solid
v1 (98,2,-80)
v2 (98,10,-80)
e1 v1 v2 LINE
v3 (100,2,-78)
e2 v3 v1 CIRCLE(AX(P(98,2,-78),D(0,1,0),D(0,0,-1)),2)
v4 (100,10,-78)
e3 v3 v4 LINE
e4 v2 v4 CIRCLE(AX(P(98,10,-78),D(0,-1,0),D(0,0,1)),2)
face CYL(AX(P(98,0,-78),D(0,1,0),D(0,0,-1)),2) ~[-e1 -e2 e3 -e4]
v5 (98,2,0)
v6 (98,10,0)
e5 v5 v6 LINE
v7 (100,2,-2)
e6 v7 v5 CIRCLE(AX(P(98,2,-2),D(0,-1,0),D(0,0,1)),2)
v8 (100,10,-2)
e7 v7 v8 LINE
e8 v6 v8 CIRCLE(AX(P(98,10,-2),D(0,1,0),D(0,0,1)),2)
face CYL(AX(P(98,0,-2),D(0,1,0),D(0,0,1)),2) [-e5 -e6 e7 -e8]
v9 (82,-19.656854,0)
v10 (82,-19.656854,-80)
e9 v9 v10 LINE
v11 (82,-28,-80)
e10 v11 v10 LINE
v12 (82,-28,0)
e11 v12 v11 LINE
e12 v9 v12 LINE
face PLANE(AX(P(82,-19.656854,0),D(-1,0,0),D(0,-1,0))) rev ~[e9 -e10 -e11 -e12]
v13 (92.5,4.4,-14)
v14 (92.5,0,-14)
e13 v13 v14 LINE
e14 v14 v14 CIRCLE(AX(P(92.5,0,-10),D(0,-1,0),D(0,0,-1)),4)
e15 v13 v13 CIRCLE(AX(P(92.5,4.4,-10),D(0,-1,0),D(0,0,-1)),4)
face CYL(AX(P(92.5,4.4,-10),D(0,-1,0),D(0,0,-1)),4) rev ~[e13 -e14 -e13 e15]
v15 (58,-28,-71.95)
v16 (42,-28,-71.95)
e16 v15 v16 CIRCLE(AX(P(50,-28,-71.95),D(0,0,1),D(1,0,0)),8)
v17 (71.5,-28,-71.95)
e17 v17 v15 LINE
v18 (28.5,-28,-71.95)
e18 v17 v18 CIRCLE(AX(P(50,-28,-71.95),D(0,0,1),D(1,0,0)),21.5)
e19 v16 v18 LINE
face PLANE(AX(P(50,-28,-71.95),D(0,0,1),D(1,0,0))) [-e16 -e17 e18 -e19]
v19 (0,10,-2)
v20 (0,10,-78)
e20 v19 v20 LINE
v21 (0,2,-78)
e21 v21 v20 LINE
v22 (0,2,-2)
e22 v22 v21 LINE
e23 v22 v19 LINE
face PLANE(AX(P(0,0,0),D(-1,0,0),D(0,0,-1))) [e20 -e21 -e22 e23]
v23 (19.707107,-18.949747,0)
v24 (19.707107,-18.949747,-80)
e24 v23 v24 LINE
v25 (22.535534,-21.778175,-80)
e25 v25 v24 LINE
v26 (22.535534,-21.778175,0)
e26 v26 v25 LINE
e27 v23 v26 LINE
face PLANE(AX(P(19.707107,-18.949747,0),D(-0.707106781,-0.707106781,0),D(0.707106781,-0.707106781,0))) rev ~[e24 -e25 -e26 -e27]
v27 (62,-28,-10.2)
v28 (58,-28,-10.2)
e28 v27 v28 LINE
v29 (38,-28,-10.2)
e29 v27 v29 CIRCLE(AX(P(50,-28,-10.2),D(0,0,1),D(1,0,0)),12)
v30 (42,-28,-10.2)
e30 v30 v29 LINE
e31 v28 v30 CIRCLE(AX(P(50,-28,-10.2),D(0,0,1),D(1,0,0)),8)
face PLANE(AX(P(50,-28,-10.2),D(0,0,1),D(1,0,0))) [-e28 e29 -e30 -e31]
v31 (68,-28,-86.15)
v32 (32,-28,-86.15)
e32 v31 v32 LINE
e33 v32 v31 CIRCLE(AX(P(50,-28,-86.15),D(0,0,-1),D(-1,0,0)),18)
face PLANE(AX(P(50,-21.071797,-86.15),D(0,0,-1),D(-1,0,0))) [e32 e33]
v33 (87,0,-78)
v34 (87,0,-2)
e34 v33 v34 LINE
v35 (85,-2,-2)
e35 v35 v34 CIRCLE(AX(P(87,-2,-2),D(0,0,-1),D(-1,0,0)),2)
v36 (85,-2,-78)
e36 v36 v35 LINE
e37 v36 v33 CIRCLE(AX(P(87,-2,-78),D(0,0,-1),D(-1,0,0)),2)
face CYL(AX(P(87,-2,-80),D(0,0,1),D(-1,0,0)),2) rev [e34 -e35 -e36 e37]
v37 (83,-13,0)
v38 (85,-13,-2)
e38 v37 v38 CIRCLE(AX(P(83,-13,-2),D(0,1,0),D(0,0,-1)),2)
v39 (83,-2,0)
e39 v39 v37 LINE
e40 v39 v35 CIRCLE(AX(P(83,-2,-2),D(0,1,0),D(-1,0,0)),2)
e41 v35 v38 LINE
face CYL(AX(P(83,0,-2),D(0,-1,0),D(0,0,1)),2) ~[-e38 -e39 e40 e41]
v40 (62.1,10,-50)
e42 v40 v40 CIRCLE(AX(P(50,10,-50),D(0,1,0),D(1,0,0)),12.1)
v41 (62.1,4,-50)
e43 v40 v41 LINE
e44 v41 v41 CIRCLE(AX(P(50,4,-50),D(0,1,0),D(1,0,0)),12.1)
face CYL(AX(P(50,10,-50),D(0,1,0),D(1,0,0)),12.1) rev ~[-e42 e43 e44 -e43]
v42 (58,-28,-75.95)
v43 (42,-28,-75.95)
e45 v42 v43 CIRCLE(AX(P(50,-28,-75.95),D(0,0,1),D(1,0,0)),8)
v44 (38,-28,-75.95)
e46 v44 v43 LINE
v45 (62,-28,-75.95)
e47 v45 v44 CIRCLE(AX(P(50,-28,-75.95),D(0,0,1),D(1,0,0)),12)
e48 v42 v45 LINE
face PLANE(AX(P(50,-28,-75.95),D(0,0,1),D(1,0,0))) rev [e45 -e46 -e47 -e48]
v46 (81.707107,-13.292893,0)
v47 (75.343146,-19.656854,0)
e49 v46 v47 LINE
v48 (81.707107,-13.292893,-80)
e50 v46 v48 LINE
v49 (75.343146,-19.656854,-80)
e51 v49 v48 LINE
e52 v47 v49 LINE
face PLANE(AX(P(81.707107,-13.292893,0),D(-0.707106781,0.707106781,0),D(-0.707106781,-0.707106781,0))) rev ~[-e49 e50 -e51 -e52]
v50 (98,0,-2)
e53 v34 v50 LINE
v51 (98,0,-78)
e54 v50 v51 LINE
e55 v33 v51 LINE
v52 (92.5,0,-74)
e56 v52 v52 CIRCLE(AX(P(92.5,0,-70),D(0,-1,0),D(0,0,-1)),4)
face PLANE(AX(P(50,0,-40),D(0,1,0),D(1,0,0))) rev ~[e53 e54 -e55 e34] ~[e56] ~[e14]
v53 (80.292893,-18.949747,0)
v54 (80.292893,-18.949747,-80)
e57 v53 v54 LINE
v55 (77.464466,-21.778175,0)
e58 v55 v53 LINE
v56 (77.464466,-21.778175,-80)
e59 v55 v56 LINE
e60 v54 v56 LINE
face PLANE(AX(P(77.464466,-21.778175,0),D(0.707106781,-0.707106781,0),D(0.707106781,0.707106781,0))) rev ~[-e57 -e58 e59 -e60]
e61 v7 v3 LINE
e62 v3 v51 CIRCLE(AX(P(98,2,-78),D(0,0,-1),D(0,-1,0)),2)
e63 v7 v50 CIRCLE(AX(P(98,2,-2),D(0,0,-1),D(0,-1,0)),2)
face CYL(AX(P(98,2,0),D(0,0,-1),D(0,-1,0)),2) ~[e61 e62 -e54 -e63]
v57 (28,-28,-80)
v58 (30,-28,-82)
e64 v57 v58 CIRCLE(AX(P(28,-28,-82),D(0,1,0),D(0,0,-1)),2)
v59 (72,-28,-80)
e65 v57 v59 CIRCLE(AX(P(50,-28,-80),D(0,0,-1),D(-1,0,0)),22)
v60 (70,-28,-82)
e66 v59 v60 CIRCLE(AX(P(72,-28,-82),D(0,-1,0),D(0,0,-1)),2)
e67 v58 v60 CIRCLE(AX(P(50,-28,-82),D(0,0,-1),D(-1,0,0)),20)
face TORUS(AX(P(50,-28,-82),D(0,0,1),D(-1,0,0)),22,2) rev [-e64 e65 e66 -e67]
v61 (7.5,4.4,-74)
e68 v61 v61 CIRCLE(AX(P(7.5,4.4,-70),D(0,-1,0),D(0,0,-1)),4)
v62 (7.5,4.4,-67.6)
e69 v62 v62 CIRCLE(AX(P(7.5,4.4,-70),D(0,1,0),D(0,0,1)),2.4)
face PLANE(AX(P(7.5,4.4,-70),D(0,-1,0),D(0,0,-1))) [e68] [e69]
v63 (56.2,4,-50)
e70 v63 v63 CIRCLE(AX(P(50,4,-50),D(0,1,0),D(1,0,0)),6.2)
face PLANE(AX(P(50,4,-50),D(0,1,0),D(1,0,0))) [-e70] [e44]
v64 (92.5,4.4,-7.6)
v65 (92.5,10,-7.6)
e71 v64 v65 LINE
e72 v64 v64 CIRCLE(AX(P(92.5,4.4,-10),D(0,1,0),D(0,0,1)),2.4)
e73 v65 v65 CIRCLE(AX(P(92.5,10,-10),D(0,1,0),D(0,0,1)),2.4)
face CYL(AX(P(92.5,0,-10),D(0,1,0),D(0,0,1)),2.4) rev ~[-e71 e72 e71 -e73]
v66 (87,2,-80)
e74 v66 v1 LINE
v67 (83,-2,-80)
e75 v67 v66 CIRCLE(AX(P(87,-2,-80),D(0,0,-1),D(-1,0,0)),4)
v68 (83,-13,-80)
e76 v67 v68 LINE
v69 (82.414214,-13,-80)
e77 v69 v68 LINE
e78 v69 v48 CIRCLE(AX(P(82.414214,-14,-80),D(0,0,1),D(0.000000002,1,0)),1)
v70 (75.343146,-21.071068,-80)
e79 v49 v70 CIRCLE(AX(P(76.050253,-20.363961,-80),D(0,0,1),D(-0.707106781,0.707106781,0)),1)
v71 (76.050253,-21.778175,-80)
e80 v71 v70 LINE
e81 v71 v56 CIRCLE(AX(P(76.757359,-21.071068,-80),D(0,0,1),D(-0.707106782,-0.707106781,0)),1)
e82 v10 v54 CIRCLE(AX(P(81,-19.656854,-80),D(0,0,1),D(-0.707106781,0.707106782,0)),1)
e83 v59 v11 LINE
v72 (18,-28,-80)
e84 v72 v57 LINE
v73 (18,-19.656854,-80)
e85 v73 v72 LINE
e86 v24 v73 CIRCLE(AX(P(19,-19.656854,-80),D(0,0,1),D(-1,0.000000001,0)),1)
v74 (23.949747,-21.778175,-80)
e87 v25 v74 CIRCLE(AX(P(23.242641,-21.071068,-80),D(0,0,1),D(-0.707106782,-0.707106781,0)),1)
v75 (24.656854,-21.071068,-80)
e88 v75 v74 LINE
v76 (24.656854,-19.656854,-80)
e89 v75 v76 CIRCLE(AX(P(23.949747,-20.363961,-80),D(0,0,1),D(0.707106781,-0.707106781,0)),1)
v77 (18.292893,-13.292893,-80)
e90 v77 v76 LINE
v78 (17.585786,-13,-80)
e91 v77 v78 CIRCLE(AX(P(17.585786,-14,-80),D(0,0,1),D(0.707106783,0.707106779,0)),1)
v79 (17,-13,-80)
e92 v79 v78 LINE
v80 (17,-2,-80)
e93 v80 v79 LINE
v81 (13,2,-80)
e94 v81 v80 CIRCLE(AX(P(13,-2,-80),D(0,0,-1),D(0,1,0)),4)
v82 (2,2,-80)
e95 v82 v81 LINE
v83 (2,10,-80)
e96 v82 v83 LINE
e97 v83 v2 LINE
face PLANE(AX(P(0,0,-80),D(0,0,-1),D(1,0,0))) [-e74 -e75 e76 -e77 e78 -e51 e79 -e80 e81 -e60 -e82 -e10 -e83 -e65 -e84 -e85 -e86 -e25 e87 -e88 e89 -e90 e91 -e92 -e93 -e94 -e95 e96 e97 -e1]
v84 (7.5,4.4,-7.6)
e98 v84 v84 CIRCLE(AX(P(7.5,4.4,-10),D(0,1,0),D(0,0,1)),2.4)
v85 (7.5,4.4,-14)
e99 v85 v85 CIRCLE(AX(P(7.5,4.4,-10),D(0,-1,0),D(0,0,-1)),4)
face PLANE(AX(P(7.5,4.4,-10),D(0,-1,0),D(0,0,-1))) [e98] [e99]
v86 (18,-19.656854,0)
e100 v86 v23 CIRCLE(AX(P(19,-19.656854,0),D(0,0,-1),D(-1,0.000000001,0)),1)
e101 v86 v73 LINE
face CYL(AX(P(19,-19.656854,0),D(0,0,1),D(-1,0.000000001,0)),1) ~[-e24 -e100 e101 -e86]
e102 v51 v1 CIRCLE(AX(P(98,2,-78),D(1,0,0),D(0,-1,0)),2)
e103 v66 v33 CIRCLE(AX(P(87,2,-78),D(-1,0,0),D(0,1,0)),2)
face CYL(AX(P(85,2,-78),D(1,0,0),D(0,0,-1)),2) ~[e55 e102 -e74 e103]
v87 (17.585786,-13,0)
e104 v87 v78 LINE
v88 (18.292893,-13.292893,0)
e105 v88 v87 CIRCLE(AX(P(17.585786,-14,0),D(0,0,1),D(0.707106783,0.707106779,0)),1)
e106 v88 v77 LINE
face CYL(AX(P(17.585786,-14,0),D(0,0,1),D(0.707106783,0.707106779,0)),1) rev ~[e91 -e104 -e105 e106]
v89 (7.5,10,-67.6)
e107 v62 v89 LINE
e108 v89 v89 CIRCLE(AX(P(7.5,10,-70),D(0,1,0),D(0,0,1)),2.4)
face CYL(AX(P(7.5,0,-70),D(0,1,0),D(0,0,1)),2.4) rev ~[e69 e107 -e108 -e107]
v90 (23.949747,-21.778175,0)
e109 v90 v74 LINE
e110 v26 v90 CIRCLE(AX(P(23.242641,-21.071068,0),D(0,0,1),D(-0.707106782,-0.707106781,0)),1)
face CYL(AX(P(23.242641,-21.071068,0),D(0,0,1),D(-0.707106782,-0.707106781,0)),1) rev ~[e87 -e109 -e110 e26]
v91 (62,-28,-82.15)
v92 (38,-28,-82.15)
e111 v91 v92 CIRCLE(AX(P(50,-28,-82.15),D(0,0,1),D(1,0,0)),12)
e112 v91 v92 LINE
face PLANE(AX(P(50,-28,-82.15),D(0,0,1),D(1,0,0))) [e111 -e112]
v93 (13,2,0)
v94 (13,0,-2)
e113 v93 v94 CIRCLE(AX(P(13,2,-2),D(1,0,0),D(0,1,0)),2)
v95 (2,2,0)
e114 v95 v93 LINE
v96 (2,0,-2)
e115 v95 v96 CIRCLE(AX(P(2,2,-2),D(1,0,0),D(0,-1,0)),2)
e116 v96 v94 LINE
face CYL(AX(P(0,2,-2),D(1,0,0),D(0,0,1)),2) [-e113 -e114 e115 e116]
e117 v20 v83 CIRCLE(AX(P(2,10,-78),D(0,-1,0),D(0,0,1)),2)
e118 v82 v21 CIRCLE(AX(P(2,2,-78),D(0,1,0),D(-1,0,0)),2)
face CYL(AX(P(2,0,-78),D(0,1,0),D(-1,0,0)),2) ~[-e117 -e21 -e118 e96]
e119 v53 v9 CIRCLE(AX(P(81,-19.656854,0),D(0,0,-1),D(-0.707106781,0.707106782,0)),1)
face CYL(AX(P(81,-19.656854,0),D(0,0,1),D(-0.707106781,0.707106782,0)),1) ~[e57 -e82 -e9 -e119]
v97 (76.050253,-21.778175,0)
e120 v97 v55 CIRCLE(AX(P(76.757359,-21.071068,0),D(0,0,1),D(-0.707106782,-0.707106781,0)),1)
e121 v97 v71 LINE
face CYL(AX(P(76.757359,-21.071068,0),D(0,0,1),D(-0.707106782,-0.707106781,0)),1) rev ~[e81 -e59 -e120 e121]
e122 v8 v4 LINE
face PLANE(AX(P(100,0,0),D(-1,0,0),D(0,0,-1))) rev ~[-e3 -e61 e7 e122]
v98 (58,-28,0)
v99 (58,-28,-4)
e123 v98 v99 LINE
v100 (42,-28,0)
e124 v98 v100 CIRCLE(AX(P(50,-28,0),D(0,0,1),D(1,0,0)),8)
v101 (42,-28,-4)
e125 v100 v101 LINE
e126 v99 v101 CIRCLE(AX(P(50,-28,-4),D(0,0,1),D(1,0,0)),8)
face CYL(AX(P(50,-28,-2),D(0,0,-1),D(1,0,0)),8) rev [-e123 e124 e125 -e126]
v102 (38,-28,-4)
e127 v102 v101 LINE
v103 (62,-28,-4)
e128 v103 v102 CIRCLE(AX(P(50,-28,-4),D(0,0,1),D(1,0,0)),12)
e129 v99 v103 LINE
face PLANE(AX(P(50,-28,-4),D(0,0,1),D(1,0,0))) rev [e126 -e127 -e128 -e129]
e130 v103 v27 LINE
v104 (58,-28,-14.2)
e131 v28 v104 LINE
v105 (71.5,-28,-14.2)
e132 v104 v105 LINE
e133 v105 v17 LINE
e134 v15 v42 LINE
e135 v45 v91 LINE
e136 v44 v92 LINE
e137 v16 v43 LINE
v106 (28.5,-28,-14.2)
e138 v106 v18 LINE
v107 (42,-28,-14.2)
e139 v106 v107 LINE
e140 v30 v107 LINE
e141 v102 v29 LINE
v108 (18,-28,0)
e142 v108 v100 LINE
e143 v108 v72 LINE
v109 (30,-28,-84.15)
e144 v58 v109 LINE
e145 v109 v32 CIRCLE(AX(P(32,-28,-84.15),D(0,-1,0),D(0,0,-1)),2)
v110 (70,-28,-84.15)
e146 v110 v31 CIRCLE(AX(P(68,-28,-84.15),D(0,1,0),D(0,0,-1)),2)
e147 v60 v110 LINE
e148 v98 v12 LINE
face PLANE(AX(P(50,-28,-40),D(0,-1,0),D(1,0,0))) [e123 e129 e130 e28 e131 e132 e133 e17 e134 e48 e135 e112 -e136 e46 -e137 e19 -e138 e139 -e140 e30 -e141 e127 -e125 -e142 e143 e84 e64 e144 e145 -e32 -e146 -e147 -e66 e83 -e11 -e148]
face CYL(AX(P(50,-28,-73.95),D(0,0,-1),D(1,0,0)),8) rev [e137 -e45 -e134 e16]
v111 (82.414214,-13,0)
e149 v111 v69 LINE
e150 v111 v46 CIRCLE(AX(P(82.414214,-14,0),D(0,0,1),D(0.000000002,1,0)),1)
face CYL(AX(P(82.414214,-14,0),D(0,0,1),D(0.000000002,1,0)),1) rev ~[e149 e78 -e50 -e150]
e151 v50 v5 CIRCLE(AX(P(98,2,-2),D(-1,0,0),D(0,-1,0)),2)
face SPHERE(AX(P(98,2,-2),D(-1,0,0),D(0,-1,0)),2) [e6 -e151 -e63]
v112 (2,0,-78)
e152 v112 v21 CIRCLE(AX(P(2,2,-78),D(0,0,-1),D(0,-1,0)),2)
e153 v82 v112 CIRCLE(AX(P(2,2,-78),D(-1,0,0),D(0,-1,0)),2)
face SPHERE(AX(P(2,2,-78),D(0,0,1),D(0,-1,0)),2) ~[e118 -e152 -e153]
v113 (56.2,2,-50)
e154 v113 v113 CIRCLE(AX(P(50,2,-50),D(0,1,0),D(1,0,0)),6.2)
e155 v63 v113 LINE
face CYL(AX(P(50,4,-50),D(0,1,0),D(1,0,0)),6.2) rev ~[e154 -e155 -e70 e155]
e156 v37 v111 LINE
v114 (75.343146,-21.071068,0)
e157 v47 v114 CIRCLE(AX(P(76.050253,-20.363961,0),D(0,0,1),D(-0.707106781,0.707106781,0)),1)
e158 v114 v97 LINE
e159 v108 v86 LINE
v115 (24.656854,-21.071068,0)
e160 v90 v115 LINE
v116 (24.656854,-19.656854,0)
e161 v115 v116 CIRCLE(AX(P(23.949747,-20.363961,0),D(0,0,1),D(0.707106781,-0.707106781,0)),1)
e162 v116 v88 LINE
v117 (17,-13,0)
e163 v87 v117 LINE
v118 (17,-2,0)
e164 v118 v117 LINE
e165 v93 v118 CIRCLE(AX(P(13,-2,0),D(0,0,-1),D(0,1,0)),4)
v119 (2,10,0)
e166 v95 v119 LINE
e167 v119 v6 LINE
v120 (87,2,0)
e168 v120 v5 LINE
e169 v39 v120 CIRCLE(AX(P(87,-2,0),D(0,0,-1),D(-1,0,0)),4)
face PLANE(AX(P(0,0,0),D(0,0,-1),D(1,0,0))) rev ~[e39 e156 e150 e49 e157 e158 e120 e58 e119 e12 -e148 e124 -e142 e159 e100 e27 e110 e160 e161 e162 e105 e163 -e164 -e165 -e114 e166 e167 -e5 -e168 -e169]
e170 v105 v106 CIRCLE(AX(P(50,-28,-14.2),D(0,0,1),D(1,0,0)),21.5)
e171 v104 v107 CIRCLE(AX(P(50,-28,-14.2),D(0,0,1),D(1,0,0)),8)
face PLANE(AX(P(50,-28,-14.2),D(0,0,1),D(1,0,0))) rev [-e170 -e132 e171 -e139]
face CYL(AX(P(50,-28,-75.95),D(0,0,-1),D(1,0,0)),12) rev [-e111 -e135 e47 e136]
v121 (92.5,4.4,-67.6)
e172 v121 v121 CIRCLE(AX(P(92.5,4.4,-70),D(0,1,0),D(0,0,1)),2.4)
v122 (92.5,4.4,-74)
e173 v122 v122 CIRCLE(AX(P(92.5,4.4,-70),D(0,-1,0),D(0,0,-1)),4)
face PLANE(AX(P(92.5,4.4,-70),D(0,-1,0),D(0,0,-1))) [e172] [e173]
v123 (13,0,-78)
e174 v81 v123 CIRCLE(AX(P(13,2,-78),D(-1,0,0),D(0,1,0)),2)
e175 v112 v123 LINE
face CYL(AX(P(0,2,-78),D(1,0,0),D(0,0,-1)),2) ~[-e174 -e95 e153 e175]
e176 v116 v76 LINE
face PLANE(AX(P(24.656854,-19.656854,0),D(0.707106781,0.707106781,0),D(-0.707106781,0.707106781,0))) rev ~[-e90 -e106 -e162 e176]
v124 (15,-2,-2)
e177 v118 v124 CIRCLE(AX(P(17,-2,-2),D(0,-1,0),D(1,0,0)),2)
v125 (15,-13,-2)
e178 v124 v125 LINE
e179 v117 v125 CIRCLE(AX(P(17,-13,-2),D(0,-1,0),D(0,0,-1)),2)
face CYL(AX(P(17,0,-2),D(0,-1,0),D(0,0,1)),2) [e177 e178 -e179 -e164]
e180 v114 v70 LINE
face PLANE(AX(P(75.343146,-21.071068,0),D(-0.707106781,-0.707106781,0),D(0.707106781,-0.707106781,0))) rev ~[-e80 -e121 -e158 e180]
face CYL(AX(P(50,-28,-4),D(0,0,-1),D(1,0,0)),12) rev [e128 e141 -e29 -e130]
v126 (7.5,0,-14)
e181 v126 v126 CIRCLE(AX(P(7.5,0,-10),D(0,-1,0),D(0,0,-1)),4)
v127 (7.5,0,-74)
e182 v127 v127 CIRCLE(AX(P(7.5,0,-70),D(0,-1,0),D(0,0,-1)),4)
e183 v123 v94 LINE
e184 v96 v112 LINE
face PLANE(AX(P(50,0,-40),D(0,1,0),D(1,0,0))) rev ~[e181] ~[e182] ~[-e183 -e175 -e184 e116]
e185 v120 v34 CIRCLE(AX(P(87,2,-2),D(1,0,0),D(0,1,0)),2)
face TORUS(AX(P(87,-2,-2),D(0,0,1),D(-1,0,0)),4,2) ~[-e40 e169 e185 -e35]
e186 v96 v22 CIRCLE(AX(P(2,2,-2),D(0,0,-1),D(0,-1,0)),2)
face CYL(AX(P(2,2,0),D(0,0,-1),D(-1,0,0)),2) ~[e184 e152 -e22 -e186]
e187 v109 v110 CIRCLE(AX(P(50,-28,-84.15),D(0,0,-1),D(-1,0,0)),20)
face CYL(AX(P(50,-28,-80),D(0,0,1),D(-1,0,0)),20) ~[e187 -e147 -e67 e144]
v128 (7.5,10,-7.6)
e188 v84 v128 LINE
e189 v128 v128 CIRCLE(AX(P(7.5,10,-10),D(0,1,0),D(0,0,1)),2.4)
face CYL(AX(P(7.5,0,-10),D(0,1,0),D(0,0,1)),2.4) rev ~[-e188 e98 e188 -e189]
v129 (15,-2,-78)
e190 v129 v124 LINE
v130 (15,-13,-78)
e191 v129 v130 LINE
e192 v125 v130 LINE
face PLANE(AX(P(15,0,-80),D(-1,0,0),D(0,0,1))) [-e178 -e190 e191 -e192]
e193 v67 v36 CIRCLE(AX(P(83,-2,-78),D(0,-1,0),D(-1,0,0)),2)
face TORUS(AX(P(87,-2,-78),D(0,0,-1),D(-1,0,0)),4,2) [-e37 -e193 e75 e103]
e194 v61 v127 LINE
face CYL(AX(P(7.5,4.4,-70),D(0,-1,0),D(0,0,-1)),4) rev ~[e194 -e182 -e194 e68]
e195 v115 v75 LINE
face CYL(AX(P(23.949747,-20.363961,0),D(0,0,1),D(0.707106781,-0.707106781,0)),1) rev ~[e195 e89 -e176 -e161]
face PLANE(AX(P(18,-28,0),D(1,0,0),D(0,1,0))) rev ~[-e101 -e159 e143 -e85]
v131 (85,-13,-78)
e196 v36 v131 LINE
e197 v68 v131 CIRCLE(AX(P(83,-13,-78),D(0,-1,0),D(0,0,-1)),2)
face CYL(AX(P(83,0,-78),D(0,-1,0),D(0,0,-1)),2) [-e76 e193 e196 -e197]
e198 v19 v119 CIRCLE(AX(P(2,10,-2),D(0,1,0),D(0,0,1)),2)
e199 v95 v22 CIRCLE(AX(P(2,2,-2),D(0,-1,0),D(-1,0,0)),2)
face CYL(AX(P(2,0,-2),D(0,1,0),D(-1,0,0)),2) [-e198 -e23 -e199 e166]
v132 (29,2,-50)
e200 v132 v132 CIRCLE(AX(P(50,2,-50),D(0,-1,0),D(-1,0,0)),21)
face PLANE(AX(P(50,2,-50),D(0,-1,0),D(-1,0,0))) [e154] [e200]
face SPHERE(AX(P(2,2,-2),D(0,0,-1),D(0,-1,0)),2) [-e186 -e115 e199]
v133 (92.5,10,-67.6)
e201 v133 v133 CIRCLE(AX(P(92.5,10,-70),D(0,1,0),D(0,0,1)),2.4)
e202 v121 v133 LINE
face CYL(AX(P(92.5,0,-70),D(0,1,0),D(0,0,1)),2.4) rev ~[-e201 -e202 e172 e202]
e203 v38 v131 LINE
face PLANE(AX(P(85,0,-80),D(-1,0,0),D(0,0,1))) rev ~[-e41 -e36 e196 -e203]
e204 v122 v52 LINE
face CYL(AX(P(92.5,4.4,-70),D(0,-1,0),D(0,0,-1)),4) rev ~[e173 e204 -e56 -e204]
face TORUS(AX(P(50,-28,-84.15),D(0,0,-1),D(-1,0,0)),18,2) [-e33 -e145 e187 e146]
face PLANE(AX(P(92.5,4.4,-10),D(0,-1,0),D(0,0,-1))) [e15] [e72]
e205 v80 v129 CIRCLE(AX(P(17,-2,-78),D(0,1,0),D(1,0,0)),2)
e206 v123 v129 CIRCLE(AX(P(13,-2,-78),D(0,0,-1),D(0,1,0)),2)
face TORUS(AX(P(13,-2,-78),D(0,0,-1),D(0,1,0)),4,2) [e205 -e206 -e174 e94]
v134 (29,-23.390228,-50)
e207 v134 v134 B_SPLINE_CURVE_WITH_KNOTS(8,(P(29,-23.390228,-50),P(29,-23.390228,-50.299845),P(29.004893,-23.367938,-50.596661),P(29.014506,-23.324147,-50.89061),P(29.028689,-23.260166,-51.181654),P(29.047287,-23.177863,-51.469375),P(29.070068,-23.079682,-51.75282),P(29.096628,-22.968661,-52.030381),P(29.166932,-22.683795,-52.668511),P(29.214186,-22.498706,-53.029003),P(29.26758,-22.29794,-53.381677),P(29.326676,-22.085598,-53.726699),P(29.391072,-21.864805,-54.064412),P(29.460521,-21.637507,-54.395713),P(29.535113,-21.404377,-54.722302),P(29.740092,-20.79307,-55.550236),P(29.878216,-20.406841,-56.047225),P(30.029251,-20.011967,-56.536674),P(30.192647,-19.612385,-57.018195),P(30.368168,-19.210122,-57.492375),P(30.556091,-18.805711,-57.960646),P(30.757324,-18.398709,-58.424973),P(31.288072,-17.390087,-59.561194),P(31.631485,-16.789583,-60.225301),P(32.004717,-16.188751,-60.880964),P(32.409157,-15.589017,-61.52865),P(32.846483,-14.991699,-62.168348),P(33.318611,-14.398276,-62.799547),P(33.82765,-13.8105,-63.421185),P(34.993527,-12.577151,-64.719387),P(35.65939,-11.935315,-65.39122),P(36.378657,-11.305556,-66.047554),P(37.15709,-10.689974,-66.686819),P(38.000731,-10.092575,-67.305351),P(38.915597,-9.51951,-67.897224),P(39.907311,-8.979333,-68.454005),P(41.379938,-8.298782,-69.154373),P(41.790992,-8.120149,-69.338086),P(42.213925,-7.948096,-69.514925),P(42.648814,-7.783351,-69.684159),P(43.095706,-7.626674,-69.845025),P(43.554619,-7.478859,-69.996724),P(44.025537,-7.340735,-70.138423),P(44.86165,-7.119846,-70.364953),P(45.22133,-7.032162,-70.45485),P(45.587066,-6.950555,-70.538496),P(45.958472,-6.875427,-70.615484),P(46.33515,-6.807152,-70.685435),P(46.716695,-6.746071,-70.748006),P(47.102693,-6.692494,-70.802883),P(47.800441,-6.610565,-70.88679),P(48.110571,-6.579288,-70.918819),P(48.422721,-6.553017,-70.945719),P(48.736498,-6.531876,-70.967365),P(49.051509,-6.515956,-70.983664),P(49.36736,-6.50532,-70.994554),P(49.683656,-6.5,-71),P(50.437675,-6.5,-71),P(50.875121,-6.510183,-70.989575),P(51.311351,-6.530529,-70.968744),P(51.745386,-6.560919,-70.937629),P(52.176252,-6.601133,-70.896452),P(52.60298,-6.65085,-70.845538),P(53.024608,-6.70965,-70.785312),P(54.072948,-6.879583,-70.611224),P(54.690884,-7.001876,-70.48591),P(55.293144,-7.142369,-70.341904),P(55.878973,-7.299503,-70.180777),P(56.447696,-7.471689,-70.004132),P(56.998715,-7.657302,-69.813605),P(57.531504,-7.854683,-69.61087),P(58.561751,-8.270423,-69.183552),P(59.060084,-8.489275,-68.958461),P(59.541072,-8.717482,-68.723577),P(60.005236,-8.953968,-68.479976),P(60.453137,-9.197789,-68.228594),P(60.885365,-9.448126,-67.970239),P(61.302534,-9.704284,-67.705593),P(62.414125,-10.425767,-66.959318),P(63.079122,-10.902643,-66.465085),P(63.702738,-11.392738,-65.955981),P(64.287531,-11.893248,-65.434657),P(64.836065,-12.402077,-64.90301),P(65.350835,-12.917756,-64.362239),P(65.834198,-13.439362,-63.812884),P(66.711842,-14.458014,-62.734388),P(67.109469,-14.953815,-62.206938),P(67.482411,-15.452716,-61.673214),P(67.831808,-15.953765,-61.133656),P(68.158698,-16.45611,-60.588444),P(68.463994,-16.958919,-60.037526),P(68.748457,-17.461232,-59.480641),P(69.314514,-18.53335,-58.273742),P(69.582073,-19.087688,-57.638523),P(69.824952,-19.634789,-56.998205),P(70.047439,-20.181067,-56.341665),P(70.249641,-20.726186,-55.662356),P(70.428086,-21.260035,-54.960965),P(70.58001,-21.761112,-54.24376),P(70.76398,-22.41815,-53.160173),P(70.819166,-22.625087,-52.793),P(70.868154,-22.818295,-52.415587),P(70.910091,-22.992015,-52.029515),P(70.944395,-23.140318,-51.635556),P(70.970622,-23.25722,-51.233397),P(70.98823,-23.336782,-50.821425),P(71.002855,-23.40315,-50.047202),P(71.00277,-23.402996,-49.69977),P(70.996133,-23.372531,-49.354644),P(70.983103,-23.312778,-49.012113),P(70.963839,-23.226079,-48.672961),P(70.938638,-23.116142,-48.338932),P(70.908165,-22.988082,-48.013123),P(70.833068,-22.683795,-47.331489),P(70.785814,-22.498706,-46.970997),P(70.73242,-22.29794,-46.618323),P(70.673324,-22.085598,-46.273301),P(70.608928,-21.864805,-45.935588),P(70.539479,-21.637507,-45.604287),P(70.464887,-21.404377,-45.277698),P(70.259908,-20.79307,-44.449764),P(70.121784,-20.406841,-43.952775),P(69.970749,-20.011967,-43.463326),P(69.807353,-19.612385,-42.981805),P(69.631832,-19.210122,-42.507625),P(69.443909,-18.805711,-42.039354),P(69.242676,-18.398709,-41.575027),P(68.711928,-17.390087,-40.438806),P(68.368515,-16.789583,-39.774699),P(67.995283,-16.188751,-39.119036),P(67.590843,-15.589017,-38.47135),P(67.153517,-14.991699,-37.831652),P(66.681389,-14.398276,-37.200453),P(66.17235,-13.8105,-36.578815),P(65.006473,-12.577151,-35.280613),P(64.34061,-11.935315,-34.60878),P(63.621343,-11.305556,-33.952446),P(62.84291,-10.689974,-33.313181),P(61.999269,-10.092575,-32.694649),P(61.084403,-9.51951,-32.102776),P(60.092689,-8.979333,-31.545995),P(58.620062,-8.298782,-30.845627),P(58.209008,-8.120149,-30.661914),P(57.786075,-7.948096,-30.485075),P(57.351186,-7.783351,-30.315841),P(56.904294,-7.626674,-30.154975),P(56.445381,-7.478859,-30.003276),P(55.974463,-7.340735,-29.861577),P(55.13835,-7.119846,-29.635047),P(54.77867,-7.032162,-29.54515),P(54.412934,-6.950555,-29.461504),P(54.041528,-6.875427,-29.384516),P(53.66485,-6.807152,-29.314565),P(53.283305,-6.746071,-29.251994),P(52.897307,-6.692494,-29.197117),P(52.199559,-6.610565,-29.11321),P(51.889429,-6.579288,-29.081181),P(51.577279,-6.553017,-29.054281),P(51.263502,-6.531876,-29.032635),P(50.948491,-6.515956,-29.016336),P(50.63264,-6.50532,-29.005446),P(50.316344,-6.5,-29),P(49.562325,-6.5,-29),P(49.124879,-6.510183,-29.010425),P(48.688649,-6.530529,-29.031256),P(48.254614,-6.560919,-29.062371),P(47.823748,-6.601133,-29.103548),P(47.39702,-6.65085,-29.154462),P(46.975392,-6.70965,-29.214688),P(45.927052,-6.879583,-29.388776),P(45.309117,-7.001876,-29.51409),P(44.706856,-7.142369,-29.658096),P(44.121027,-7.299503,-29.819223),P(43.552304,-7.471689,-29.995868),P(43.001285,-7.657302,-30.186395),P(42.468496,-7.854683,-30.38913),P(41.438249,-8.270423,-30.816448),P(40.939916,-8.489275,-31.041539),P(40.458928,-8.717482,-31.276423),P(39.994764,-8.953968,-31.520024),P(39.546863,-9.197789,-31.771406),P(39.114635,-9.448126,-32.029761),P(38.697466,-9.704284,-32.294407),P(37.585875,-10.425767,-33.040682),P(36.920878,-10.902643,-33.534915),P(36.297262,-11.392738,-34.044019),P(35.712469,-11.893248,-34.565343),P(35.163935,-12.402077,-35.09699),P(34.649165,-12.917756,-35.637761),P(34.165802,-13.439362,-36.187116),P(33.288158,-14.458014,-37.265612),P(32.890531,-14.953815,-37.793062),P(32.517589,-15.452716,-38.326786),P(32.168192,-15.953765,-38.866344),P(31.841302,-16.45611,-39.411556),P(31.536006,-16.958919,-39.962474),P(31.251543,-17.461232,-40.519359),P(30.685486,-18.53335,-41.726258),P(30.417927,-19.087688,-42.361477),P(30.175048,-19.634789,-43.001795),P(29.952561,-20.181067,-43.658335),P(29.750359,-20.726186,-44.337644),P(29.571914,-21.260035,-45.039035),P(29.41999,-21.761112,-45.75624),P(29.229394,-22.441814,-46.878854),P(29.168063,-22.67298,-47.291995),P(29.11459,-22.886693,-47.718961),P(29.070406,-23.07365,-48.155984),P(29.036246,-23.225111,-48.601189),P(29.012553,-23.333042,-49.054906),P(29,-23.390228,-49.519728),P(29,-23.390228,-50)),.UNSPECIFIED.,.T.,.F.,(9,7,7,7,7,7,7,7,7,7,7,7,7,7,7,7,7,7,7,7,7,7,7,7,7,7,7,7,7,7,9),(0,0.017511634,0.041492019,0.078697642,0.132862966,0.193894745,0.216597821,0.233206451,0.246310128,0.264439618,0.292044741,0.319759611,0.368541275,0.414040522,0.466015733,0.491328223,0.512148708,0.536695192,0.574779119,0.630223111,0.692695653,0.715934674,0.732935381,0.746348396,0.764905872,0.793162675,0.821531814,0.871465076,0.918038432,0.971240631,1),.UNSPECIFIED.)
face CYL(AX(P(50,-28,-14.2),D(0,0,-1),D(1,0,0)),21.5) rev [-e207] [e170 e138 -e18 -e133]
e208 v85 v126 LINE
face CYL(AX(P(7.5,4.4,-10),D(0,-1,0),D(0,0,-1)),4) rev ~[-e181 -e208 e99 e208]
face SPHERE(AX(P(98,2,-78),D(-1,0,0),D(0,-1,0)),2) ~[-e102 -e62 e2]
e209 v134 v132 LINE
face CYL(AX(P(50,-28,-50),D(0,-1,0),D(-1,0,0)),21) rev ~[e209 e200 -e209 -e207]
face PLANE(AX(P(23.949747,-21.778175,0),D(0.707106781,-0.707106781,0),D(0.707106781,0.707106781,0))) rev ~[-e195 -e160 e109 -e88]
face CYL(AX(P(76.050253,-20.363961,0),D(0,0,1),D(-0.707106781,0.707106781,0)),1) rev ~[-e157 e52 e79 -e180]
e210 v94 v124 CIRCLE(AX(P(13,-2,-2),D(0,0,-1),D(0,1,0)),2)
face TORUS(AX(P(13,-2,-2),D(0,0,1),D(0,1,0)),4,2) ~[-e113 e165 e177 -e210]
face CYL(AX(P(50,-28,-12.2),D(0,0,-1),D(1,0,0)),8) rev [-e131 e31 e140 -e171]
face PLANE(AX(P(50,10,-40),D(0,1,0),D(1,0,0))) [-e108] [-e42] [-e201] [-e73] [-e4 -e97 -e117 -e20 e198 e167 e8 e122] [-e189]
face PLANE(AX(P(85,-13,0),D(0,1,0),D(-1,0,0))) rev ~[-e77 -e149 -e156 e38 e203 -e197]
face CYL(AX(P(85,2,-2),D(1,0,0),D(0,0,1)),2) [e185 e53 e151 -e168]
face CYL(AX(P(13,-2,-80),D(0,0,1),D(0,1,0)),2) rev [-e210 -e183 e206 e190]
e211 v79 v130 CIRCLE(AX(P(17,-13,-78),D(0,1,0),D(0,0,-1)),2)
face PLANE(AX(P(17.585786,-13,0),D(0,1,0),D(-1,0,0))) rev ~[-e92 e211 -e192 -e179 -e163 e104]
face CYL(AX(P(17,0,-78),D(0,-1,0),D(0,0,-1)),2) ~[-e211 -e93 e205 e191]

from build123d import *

# Parameters (mm, degrees)
ESQUISSE1_W                                       = 100
ESQUISSE1_H                                       = 80
BOSS_EXTRU_1_DEPTH                                = 10
ESQUISSE2_W                                       = 70
ESQUISSE2_H                                       = 80
BOSS_EXTRU_2_DEPTH                                = 28
BOSS_EXTRU_3_DEPTH                                = 6.15
ESQUISSE3_W                                       = 8
ESQUISSE3_H                                       = 4
ESQUISSE4_R                                       = 21
ENL_V_MAT_EXTRU_1_DEPTH                           = 30
ESQUISSE5_R                                       = 12.1
ENL_V_MAT_EXTRU_2_DEPTH                           = 6
ESQUISSE6_R                                       = 6.2
ENL_V_MAT_EXTRU_3_DEPTH                           = 33.0000001
ENL_V_MAT_EXTRU_5_DEPTH                           = 87.15
CHAMBRAGE_POUR_VIS_SIX_PANS_CREUX_M41_D           = 4.8
CHAMBRAGE_POUR_VIS_SIX_PANS_CREUX_M41_CBORE_D     = 8
CHAMBRAGE_POUR_VIS_SIX_PANS_CREUX_M41_CBORE_DEPTH = 4.4
CONG_1_R                                          = 2


with BuildPart() as part:
    # Esquisse1 → Boss.-Extru.1 (new body)
    with BuildSketch(Plane(origin=(0, 0, 0), x_dir=(1, 0, 0), z_dir=(0, 1, 0))):
        with Locations((50, 40)):
            Rectangle(ESQUISSE1_W, ESQUISSE1_H)
    extrude(amount=BOSS_EXTRU_1_DEPTH)

    # Esquisse2 → Boss.-Extru.2 (add)
    with BuildSketch(Plane.XZ):
        with Locations((50, -40)):
            Rectangle(ESQUISSE2_W, ESQUISSE2_H)
    extrude(amount=BOSS_EXTRU_2_DEPTH)

    # Esquisse11 → Boss.-Extru.3 (add)
    with BuildSketch(Plane(origin=(0, 0, -80), x_dir=(-1, 0, 0), z_dir=(0, 0, -1))):
        with BuildLine():
            Line((-70, -28), (-30, -28))
            ThreePointArc((-30, -28), (-50, -8), (-70, -28))
        make_face()
    extrude(amount=BOSS_EXTRU_3_DEPTH)

    # Esquisse3 → Enlèvement de matière-Révolution1 (revolve, cut)
    with BuildSketch(Plane(origin=(0, -28, -30), x_dir=(1, 0, 0), z_dir=(0, 1, 0))):
        with Locations((54, -28)):
            Rectangle(ESQUISSE3_W, ESQUISSE3_H)
        Polygon((58, -19.8), (50, -19.8), (50, -26), (58, -26), (62, -26), (62, -19.8), align=None)
        with Locations((54, -17.8)):
            Rectangle(ESQUISSE3_W, ESQUISSE3_H)
        Polygon((58, 41.95), (50, 41.95), (50, -15.8), (58, -15.8), (71.5, -15.8), (71.5, 41.95), align=None)
        with Locations((54, 43.95)):
            Rectangle(ESQUISSE3_W, ESQUISSE3_H)
        Polygon((62, 52.15), (50, 52.15), (50, 45.95), (58, 45.95), (62, 45.95), align=None)
    revolve(axis=Axis((50, -28, -86.15), (0, 0, 1)), mode=Mode.SUBTRACT)

    # Esquisse4 → Enlèv. mat.-Extru.1 (cut)
    with BuildSketch(Plane(origin=(0, -28, 0), x_dir=(-1, 0, 0), z_dir=(0, -1, 0))):
        with Locations((-50, 50)):
            Circle(ESQUISSE4_R)
    extrude(amount=-ENL_V_MAT_EXTRU_1_DEPTH, mode=Mode.SUBTRACT)

    # Esquisse5 → Enlèv. mat.-Extru.2 (cut)
    with BuildSketch(Plane(origin=(0, 10, 0), x_dir=(1, 0, 0), z_dir=(0, 1, 0))):
        with Locations((50, 50)):
            Circle(ESQUISSE5_R)
    extrude(amount=-ENL_V_MAT_EXTRU_2_DEPTH, mode=Mode.SUBTRACT)

    # Esquisse6 → Enlèv. mat.-Extru.3 (cut, through all)
    with BuildSketch(Plane(origin=(0, 4, 0), x_dir=(1, 0, 0), z_dir=(0, 1, 0))):
        with Locations((50, 50)):
            Circle(ESQUISSE6_R)
    extrude(amount=-ENL_V_MAT_EXTRU_3_DEPTH, mode=Mode.SUBTRACT)

    # Esquisse7 → Enlèv. mat.-Extru.5 (cut, through all)
    with BuildSketch(Plane.XY):
        with BuildLine():
            Line((24.656854249, -19.656854249), (18.292893219, -13.292893219))
            ThreePointArc((18.292893219, -13.292893219), (17.96846987, -13.076120467), (17.585786438, -13))
            Line((17.585786438, -13), (15, -13))
            Line((15, -13), (15, -28))
            Line((15, -28), (18, -28))
            Line((18, -28), (18, -19.656854249))
            ThreePointArc((18, -19.656854249), (18.617316568, -18.732974717), (19.707106781, -18.949747468))
            Line((19.707106781, -18.949747468), (22.535533906, -21.778174593))
            ThreePointArc((22.535533906, -21.778174593), (23.242640687, -22.071067812), (23.949747468, -21.778174593))
            Line((23.949747468, -21.778174593), (24.656854249, -21.071067812))
            ThreePointArc((24.656854249, -21.071067812), (24.949747468, -20.363961031), (24.656854249, -19.656854249))
        make_face()
        with BuildLine():
            Line((82, -19.656854249), (82, -28))
            Line((82, -28), (85, -28))
            Line((85, -28), (85, -13))
            Line((85, -13), (82.414213562, -13))
            ThreePointArc((82.414213562, -13), (82.03153013, -13.076120467), (81.707106781, -13.292893219))
            Line((81.707106781, -13.292893219), (75.343145751, -19.656854249))
            ThreePointArc((75.343145751, -19.656854249), (75.050252532, -20.363961031), (75.343145751, -21.071067812))
            Line((75.343145751, -21.071067812), (76.050252532, -21.778174593))
            ThreePointArc((76.050252532, -21.778174593), (76.757359313, -22.071067812), (77.464466094, -21.778174593))
            Line((77.464466094, -21.778174593), (80.292893219, -18.949747468))
            ThreePointArc((80.292893219, -18.949747468), (81.382683432, -18.732974717), (82, -19.656854249))
        make_face()
    extrude(amount=-ENL_V_MAT_EXTRU_5_DEPTH, mode=Mode.SUBTRACT)

    # Chambrage pour vis à six pans creux M41 (through all)
    with Locations(Plane(origin=(7.5, 0, -10), x_dir=(0, 0, -1), z_dir=(0, -1, 0))):
        with Locations((0, 0), (60, 0), (60, 85), (0, 85)):
            CounterBoreHole(CHAMBRAGE_POUR_VIS_SIX_PANS_CREUX_M41_D / 2, CHAMBRAGE_POUR_VIS_SIX_PANS_CREUX_M41_CBORE_D / 2, CHAMBRAGE_POUR_VIS_SIX_PANS_CREUX_M41_CBORE_DEPTH)

    # Congé1
    cong_1_edges = [part.edges().sort_by_distance(p)[0] for p in [
        (92.5, 0, 0),
        (92.5, 0, -80),
        (15, 0, -40),
        (85, 0, -40),
        (50, -8, -80),
        (50, -8, -86.15),
        (0, 0, -40),
        (7.5, 0, -80),
        (100, 0, -40),
        (7.5, 0, 0),
        (0, 5, 0),
        (0, 5, -80),
        (100, 5, -80),
        (100, 5, 0),
        (85, -6.5, 0),
        (85, -6.5, -80),
        (15, -6.5, -80),
        (15, -6.5, 0),
    ]]
    fillet(cong_1_edges, radius=CONG_1_R)


solid = part.part
